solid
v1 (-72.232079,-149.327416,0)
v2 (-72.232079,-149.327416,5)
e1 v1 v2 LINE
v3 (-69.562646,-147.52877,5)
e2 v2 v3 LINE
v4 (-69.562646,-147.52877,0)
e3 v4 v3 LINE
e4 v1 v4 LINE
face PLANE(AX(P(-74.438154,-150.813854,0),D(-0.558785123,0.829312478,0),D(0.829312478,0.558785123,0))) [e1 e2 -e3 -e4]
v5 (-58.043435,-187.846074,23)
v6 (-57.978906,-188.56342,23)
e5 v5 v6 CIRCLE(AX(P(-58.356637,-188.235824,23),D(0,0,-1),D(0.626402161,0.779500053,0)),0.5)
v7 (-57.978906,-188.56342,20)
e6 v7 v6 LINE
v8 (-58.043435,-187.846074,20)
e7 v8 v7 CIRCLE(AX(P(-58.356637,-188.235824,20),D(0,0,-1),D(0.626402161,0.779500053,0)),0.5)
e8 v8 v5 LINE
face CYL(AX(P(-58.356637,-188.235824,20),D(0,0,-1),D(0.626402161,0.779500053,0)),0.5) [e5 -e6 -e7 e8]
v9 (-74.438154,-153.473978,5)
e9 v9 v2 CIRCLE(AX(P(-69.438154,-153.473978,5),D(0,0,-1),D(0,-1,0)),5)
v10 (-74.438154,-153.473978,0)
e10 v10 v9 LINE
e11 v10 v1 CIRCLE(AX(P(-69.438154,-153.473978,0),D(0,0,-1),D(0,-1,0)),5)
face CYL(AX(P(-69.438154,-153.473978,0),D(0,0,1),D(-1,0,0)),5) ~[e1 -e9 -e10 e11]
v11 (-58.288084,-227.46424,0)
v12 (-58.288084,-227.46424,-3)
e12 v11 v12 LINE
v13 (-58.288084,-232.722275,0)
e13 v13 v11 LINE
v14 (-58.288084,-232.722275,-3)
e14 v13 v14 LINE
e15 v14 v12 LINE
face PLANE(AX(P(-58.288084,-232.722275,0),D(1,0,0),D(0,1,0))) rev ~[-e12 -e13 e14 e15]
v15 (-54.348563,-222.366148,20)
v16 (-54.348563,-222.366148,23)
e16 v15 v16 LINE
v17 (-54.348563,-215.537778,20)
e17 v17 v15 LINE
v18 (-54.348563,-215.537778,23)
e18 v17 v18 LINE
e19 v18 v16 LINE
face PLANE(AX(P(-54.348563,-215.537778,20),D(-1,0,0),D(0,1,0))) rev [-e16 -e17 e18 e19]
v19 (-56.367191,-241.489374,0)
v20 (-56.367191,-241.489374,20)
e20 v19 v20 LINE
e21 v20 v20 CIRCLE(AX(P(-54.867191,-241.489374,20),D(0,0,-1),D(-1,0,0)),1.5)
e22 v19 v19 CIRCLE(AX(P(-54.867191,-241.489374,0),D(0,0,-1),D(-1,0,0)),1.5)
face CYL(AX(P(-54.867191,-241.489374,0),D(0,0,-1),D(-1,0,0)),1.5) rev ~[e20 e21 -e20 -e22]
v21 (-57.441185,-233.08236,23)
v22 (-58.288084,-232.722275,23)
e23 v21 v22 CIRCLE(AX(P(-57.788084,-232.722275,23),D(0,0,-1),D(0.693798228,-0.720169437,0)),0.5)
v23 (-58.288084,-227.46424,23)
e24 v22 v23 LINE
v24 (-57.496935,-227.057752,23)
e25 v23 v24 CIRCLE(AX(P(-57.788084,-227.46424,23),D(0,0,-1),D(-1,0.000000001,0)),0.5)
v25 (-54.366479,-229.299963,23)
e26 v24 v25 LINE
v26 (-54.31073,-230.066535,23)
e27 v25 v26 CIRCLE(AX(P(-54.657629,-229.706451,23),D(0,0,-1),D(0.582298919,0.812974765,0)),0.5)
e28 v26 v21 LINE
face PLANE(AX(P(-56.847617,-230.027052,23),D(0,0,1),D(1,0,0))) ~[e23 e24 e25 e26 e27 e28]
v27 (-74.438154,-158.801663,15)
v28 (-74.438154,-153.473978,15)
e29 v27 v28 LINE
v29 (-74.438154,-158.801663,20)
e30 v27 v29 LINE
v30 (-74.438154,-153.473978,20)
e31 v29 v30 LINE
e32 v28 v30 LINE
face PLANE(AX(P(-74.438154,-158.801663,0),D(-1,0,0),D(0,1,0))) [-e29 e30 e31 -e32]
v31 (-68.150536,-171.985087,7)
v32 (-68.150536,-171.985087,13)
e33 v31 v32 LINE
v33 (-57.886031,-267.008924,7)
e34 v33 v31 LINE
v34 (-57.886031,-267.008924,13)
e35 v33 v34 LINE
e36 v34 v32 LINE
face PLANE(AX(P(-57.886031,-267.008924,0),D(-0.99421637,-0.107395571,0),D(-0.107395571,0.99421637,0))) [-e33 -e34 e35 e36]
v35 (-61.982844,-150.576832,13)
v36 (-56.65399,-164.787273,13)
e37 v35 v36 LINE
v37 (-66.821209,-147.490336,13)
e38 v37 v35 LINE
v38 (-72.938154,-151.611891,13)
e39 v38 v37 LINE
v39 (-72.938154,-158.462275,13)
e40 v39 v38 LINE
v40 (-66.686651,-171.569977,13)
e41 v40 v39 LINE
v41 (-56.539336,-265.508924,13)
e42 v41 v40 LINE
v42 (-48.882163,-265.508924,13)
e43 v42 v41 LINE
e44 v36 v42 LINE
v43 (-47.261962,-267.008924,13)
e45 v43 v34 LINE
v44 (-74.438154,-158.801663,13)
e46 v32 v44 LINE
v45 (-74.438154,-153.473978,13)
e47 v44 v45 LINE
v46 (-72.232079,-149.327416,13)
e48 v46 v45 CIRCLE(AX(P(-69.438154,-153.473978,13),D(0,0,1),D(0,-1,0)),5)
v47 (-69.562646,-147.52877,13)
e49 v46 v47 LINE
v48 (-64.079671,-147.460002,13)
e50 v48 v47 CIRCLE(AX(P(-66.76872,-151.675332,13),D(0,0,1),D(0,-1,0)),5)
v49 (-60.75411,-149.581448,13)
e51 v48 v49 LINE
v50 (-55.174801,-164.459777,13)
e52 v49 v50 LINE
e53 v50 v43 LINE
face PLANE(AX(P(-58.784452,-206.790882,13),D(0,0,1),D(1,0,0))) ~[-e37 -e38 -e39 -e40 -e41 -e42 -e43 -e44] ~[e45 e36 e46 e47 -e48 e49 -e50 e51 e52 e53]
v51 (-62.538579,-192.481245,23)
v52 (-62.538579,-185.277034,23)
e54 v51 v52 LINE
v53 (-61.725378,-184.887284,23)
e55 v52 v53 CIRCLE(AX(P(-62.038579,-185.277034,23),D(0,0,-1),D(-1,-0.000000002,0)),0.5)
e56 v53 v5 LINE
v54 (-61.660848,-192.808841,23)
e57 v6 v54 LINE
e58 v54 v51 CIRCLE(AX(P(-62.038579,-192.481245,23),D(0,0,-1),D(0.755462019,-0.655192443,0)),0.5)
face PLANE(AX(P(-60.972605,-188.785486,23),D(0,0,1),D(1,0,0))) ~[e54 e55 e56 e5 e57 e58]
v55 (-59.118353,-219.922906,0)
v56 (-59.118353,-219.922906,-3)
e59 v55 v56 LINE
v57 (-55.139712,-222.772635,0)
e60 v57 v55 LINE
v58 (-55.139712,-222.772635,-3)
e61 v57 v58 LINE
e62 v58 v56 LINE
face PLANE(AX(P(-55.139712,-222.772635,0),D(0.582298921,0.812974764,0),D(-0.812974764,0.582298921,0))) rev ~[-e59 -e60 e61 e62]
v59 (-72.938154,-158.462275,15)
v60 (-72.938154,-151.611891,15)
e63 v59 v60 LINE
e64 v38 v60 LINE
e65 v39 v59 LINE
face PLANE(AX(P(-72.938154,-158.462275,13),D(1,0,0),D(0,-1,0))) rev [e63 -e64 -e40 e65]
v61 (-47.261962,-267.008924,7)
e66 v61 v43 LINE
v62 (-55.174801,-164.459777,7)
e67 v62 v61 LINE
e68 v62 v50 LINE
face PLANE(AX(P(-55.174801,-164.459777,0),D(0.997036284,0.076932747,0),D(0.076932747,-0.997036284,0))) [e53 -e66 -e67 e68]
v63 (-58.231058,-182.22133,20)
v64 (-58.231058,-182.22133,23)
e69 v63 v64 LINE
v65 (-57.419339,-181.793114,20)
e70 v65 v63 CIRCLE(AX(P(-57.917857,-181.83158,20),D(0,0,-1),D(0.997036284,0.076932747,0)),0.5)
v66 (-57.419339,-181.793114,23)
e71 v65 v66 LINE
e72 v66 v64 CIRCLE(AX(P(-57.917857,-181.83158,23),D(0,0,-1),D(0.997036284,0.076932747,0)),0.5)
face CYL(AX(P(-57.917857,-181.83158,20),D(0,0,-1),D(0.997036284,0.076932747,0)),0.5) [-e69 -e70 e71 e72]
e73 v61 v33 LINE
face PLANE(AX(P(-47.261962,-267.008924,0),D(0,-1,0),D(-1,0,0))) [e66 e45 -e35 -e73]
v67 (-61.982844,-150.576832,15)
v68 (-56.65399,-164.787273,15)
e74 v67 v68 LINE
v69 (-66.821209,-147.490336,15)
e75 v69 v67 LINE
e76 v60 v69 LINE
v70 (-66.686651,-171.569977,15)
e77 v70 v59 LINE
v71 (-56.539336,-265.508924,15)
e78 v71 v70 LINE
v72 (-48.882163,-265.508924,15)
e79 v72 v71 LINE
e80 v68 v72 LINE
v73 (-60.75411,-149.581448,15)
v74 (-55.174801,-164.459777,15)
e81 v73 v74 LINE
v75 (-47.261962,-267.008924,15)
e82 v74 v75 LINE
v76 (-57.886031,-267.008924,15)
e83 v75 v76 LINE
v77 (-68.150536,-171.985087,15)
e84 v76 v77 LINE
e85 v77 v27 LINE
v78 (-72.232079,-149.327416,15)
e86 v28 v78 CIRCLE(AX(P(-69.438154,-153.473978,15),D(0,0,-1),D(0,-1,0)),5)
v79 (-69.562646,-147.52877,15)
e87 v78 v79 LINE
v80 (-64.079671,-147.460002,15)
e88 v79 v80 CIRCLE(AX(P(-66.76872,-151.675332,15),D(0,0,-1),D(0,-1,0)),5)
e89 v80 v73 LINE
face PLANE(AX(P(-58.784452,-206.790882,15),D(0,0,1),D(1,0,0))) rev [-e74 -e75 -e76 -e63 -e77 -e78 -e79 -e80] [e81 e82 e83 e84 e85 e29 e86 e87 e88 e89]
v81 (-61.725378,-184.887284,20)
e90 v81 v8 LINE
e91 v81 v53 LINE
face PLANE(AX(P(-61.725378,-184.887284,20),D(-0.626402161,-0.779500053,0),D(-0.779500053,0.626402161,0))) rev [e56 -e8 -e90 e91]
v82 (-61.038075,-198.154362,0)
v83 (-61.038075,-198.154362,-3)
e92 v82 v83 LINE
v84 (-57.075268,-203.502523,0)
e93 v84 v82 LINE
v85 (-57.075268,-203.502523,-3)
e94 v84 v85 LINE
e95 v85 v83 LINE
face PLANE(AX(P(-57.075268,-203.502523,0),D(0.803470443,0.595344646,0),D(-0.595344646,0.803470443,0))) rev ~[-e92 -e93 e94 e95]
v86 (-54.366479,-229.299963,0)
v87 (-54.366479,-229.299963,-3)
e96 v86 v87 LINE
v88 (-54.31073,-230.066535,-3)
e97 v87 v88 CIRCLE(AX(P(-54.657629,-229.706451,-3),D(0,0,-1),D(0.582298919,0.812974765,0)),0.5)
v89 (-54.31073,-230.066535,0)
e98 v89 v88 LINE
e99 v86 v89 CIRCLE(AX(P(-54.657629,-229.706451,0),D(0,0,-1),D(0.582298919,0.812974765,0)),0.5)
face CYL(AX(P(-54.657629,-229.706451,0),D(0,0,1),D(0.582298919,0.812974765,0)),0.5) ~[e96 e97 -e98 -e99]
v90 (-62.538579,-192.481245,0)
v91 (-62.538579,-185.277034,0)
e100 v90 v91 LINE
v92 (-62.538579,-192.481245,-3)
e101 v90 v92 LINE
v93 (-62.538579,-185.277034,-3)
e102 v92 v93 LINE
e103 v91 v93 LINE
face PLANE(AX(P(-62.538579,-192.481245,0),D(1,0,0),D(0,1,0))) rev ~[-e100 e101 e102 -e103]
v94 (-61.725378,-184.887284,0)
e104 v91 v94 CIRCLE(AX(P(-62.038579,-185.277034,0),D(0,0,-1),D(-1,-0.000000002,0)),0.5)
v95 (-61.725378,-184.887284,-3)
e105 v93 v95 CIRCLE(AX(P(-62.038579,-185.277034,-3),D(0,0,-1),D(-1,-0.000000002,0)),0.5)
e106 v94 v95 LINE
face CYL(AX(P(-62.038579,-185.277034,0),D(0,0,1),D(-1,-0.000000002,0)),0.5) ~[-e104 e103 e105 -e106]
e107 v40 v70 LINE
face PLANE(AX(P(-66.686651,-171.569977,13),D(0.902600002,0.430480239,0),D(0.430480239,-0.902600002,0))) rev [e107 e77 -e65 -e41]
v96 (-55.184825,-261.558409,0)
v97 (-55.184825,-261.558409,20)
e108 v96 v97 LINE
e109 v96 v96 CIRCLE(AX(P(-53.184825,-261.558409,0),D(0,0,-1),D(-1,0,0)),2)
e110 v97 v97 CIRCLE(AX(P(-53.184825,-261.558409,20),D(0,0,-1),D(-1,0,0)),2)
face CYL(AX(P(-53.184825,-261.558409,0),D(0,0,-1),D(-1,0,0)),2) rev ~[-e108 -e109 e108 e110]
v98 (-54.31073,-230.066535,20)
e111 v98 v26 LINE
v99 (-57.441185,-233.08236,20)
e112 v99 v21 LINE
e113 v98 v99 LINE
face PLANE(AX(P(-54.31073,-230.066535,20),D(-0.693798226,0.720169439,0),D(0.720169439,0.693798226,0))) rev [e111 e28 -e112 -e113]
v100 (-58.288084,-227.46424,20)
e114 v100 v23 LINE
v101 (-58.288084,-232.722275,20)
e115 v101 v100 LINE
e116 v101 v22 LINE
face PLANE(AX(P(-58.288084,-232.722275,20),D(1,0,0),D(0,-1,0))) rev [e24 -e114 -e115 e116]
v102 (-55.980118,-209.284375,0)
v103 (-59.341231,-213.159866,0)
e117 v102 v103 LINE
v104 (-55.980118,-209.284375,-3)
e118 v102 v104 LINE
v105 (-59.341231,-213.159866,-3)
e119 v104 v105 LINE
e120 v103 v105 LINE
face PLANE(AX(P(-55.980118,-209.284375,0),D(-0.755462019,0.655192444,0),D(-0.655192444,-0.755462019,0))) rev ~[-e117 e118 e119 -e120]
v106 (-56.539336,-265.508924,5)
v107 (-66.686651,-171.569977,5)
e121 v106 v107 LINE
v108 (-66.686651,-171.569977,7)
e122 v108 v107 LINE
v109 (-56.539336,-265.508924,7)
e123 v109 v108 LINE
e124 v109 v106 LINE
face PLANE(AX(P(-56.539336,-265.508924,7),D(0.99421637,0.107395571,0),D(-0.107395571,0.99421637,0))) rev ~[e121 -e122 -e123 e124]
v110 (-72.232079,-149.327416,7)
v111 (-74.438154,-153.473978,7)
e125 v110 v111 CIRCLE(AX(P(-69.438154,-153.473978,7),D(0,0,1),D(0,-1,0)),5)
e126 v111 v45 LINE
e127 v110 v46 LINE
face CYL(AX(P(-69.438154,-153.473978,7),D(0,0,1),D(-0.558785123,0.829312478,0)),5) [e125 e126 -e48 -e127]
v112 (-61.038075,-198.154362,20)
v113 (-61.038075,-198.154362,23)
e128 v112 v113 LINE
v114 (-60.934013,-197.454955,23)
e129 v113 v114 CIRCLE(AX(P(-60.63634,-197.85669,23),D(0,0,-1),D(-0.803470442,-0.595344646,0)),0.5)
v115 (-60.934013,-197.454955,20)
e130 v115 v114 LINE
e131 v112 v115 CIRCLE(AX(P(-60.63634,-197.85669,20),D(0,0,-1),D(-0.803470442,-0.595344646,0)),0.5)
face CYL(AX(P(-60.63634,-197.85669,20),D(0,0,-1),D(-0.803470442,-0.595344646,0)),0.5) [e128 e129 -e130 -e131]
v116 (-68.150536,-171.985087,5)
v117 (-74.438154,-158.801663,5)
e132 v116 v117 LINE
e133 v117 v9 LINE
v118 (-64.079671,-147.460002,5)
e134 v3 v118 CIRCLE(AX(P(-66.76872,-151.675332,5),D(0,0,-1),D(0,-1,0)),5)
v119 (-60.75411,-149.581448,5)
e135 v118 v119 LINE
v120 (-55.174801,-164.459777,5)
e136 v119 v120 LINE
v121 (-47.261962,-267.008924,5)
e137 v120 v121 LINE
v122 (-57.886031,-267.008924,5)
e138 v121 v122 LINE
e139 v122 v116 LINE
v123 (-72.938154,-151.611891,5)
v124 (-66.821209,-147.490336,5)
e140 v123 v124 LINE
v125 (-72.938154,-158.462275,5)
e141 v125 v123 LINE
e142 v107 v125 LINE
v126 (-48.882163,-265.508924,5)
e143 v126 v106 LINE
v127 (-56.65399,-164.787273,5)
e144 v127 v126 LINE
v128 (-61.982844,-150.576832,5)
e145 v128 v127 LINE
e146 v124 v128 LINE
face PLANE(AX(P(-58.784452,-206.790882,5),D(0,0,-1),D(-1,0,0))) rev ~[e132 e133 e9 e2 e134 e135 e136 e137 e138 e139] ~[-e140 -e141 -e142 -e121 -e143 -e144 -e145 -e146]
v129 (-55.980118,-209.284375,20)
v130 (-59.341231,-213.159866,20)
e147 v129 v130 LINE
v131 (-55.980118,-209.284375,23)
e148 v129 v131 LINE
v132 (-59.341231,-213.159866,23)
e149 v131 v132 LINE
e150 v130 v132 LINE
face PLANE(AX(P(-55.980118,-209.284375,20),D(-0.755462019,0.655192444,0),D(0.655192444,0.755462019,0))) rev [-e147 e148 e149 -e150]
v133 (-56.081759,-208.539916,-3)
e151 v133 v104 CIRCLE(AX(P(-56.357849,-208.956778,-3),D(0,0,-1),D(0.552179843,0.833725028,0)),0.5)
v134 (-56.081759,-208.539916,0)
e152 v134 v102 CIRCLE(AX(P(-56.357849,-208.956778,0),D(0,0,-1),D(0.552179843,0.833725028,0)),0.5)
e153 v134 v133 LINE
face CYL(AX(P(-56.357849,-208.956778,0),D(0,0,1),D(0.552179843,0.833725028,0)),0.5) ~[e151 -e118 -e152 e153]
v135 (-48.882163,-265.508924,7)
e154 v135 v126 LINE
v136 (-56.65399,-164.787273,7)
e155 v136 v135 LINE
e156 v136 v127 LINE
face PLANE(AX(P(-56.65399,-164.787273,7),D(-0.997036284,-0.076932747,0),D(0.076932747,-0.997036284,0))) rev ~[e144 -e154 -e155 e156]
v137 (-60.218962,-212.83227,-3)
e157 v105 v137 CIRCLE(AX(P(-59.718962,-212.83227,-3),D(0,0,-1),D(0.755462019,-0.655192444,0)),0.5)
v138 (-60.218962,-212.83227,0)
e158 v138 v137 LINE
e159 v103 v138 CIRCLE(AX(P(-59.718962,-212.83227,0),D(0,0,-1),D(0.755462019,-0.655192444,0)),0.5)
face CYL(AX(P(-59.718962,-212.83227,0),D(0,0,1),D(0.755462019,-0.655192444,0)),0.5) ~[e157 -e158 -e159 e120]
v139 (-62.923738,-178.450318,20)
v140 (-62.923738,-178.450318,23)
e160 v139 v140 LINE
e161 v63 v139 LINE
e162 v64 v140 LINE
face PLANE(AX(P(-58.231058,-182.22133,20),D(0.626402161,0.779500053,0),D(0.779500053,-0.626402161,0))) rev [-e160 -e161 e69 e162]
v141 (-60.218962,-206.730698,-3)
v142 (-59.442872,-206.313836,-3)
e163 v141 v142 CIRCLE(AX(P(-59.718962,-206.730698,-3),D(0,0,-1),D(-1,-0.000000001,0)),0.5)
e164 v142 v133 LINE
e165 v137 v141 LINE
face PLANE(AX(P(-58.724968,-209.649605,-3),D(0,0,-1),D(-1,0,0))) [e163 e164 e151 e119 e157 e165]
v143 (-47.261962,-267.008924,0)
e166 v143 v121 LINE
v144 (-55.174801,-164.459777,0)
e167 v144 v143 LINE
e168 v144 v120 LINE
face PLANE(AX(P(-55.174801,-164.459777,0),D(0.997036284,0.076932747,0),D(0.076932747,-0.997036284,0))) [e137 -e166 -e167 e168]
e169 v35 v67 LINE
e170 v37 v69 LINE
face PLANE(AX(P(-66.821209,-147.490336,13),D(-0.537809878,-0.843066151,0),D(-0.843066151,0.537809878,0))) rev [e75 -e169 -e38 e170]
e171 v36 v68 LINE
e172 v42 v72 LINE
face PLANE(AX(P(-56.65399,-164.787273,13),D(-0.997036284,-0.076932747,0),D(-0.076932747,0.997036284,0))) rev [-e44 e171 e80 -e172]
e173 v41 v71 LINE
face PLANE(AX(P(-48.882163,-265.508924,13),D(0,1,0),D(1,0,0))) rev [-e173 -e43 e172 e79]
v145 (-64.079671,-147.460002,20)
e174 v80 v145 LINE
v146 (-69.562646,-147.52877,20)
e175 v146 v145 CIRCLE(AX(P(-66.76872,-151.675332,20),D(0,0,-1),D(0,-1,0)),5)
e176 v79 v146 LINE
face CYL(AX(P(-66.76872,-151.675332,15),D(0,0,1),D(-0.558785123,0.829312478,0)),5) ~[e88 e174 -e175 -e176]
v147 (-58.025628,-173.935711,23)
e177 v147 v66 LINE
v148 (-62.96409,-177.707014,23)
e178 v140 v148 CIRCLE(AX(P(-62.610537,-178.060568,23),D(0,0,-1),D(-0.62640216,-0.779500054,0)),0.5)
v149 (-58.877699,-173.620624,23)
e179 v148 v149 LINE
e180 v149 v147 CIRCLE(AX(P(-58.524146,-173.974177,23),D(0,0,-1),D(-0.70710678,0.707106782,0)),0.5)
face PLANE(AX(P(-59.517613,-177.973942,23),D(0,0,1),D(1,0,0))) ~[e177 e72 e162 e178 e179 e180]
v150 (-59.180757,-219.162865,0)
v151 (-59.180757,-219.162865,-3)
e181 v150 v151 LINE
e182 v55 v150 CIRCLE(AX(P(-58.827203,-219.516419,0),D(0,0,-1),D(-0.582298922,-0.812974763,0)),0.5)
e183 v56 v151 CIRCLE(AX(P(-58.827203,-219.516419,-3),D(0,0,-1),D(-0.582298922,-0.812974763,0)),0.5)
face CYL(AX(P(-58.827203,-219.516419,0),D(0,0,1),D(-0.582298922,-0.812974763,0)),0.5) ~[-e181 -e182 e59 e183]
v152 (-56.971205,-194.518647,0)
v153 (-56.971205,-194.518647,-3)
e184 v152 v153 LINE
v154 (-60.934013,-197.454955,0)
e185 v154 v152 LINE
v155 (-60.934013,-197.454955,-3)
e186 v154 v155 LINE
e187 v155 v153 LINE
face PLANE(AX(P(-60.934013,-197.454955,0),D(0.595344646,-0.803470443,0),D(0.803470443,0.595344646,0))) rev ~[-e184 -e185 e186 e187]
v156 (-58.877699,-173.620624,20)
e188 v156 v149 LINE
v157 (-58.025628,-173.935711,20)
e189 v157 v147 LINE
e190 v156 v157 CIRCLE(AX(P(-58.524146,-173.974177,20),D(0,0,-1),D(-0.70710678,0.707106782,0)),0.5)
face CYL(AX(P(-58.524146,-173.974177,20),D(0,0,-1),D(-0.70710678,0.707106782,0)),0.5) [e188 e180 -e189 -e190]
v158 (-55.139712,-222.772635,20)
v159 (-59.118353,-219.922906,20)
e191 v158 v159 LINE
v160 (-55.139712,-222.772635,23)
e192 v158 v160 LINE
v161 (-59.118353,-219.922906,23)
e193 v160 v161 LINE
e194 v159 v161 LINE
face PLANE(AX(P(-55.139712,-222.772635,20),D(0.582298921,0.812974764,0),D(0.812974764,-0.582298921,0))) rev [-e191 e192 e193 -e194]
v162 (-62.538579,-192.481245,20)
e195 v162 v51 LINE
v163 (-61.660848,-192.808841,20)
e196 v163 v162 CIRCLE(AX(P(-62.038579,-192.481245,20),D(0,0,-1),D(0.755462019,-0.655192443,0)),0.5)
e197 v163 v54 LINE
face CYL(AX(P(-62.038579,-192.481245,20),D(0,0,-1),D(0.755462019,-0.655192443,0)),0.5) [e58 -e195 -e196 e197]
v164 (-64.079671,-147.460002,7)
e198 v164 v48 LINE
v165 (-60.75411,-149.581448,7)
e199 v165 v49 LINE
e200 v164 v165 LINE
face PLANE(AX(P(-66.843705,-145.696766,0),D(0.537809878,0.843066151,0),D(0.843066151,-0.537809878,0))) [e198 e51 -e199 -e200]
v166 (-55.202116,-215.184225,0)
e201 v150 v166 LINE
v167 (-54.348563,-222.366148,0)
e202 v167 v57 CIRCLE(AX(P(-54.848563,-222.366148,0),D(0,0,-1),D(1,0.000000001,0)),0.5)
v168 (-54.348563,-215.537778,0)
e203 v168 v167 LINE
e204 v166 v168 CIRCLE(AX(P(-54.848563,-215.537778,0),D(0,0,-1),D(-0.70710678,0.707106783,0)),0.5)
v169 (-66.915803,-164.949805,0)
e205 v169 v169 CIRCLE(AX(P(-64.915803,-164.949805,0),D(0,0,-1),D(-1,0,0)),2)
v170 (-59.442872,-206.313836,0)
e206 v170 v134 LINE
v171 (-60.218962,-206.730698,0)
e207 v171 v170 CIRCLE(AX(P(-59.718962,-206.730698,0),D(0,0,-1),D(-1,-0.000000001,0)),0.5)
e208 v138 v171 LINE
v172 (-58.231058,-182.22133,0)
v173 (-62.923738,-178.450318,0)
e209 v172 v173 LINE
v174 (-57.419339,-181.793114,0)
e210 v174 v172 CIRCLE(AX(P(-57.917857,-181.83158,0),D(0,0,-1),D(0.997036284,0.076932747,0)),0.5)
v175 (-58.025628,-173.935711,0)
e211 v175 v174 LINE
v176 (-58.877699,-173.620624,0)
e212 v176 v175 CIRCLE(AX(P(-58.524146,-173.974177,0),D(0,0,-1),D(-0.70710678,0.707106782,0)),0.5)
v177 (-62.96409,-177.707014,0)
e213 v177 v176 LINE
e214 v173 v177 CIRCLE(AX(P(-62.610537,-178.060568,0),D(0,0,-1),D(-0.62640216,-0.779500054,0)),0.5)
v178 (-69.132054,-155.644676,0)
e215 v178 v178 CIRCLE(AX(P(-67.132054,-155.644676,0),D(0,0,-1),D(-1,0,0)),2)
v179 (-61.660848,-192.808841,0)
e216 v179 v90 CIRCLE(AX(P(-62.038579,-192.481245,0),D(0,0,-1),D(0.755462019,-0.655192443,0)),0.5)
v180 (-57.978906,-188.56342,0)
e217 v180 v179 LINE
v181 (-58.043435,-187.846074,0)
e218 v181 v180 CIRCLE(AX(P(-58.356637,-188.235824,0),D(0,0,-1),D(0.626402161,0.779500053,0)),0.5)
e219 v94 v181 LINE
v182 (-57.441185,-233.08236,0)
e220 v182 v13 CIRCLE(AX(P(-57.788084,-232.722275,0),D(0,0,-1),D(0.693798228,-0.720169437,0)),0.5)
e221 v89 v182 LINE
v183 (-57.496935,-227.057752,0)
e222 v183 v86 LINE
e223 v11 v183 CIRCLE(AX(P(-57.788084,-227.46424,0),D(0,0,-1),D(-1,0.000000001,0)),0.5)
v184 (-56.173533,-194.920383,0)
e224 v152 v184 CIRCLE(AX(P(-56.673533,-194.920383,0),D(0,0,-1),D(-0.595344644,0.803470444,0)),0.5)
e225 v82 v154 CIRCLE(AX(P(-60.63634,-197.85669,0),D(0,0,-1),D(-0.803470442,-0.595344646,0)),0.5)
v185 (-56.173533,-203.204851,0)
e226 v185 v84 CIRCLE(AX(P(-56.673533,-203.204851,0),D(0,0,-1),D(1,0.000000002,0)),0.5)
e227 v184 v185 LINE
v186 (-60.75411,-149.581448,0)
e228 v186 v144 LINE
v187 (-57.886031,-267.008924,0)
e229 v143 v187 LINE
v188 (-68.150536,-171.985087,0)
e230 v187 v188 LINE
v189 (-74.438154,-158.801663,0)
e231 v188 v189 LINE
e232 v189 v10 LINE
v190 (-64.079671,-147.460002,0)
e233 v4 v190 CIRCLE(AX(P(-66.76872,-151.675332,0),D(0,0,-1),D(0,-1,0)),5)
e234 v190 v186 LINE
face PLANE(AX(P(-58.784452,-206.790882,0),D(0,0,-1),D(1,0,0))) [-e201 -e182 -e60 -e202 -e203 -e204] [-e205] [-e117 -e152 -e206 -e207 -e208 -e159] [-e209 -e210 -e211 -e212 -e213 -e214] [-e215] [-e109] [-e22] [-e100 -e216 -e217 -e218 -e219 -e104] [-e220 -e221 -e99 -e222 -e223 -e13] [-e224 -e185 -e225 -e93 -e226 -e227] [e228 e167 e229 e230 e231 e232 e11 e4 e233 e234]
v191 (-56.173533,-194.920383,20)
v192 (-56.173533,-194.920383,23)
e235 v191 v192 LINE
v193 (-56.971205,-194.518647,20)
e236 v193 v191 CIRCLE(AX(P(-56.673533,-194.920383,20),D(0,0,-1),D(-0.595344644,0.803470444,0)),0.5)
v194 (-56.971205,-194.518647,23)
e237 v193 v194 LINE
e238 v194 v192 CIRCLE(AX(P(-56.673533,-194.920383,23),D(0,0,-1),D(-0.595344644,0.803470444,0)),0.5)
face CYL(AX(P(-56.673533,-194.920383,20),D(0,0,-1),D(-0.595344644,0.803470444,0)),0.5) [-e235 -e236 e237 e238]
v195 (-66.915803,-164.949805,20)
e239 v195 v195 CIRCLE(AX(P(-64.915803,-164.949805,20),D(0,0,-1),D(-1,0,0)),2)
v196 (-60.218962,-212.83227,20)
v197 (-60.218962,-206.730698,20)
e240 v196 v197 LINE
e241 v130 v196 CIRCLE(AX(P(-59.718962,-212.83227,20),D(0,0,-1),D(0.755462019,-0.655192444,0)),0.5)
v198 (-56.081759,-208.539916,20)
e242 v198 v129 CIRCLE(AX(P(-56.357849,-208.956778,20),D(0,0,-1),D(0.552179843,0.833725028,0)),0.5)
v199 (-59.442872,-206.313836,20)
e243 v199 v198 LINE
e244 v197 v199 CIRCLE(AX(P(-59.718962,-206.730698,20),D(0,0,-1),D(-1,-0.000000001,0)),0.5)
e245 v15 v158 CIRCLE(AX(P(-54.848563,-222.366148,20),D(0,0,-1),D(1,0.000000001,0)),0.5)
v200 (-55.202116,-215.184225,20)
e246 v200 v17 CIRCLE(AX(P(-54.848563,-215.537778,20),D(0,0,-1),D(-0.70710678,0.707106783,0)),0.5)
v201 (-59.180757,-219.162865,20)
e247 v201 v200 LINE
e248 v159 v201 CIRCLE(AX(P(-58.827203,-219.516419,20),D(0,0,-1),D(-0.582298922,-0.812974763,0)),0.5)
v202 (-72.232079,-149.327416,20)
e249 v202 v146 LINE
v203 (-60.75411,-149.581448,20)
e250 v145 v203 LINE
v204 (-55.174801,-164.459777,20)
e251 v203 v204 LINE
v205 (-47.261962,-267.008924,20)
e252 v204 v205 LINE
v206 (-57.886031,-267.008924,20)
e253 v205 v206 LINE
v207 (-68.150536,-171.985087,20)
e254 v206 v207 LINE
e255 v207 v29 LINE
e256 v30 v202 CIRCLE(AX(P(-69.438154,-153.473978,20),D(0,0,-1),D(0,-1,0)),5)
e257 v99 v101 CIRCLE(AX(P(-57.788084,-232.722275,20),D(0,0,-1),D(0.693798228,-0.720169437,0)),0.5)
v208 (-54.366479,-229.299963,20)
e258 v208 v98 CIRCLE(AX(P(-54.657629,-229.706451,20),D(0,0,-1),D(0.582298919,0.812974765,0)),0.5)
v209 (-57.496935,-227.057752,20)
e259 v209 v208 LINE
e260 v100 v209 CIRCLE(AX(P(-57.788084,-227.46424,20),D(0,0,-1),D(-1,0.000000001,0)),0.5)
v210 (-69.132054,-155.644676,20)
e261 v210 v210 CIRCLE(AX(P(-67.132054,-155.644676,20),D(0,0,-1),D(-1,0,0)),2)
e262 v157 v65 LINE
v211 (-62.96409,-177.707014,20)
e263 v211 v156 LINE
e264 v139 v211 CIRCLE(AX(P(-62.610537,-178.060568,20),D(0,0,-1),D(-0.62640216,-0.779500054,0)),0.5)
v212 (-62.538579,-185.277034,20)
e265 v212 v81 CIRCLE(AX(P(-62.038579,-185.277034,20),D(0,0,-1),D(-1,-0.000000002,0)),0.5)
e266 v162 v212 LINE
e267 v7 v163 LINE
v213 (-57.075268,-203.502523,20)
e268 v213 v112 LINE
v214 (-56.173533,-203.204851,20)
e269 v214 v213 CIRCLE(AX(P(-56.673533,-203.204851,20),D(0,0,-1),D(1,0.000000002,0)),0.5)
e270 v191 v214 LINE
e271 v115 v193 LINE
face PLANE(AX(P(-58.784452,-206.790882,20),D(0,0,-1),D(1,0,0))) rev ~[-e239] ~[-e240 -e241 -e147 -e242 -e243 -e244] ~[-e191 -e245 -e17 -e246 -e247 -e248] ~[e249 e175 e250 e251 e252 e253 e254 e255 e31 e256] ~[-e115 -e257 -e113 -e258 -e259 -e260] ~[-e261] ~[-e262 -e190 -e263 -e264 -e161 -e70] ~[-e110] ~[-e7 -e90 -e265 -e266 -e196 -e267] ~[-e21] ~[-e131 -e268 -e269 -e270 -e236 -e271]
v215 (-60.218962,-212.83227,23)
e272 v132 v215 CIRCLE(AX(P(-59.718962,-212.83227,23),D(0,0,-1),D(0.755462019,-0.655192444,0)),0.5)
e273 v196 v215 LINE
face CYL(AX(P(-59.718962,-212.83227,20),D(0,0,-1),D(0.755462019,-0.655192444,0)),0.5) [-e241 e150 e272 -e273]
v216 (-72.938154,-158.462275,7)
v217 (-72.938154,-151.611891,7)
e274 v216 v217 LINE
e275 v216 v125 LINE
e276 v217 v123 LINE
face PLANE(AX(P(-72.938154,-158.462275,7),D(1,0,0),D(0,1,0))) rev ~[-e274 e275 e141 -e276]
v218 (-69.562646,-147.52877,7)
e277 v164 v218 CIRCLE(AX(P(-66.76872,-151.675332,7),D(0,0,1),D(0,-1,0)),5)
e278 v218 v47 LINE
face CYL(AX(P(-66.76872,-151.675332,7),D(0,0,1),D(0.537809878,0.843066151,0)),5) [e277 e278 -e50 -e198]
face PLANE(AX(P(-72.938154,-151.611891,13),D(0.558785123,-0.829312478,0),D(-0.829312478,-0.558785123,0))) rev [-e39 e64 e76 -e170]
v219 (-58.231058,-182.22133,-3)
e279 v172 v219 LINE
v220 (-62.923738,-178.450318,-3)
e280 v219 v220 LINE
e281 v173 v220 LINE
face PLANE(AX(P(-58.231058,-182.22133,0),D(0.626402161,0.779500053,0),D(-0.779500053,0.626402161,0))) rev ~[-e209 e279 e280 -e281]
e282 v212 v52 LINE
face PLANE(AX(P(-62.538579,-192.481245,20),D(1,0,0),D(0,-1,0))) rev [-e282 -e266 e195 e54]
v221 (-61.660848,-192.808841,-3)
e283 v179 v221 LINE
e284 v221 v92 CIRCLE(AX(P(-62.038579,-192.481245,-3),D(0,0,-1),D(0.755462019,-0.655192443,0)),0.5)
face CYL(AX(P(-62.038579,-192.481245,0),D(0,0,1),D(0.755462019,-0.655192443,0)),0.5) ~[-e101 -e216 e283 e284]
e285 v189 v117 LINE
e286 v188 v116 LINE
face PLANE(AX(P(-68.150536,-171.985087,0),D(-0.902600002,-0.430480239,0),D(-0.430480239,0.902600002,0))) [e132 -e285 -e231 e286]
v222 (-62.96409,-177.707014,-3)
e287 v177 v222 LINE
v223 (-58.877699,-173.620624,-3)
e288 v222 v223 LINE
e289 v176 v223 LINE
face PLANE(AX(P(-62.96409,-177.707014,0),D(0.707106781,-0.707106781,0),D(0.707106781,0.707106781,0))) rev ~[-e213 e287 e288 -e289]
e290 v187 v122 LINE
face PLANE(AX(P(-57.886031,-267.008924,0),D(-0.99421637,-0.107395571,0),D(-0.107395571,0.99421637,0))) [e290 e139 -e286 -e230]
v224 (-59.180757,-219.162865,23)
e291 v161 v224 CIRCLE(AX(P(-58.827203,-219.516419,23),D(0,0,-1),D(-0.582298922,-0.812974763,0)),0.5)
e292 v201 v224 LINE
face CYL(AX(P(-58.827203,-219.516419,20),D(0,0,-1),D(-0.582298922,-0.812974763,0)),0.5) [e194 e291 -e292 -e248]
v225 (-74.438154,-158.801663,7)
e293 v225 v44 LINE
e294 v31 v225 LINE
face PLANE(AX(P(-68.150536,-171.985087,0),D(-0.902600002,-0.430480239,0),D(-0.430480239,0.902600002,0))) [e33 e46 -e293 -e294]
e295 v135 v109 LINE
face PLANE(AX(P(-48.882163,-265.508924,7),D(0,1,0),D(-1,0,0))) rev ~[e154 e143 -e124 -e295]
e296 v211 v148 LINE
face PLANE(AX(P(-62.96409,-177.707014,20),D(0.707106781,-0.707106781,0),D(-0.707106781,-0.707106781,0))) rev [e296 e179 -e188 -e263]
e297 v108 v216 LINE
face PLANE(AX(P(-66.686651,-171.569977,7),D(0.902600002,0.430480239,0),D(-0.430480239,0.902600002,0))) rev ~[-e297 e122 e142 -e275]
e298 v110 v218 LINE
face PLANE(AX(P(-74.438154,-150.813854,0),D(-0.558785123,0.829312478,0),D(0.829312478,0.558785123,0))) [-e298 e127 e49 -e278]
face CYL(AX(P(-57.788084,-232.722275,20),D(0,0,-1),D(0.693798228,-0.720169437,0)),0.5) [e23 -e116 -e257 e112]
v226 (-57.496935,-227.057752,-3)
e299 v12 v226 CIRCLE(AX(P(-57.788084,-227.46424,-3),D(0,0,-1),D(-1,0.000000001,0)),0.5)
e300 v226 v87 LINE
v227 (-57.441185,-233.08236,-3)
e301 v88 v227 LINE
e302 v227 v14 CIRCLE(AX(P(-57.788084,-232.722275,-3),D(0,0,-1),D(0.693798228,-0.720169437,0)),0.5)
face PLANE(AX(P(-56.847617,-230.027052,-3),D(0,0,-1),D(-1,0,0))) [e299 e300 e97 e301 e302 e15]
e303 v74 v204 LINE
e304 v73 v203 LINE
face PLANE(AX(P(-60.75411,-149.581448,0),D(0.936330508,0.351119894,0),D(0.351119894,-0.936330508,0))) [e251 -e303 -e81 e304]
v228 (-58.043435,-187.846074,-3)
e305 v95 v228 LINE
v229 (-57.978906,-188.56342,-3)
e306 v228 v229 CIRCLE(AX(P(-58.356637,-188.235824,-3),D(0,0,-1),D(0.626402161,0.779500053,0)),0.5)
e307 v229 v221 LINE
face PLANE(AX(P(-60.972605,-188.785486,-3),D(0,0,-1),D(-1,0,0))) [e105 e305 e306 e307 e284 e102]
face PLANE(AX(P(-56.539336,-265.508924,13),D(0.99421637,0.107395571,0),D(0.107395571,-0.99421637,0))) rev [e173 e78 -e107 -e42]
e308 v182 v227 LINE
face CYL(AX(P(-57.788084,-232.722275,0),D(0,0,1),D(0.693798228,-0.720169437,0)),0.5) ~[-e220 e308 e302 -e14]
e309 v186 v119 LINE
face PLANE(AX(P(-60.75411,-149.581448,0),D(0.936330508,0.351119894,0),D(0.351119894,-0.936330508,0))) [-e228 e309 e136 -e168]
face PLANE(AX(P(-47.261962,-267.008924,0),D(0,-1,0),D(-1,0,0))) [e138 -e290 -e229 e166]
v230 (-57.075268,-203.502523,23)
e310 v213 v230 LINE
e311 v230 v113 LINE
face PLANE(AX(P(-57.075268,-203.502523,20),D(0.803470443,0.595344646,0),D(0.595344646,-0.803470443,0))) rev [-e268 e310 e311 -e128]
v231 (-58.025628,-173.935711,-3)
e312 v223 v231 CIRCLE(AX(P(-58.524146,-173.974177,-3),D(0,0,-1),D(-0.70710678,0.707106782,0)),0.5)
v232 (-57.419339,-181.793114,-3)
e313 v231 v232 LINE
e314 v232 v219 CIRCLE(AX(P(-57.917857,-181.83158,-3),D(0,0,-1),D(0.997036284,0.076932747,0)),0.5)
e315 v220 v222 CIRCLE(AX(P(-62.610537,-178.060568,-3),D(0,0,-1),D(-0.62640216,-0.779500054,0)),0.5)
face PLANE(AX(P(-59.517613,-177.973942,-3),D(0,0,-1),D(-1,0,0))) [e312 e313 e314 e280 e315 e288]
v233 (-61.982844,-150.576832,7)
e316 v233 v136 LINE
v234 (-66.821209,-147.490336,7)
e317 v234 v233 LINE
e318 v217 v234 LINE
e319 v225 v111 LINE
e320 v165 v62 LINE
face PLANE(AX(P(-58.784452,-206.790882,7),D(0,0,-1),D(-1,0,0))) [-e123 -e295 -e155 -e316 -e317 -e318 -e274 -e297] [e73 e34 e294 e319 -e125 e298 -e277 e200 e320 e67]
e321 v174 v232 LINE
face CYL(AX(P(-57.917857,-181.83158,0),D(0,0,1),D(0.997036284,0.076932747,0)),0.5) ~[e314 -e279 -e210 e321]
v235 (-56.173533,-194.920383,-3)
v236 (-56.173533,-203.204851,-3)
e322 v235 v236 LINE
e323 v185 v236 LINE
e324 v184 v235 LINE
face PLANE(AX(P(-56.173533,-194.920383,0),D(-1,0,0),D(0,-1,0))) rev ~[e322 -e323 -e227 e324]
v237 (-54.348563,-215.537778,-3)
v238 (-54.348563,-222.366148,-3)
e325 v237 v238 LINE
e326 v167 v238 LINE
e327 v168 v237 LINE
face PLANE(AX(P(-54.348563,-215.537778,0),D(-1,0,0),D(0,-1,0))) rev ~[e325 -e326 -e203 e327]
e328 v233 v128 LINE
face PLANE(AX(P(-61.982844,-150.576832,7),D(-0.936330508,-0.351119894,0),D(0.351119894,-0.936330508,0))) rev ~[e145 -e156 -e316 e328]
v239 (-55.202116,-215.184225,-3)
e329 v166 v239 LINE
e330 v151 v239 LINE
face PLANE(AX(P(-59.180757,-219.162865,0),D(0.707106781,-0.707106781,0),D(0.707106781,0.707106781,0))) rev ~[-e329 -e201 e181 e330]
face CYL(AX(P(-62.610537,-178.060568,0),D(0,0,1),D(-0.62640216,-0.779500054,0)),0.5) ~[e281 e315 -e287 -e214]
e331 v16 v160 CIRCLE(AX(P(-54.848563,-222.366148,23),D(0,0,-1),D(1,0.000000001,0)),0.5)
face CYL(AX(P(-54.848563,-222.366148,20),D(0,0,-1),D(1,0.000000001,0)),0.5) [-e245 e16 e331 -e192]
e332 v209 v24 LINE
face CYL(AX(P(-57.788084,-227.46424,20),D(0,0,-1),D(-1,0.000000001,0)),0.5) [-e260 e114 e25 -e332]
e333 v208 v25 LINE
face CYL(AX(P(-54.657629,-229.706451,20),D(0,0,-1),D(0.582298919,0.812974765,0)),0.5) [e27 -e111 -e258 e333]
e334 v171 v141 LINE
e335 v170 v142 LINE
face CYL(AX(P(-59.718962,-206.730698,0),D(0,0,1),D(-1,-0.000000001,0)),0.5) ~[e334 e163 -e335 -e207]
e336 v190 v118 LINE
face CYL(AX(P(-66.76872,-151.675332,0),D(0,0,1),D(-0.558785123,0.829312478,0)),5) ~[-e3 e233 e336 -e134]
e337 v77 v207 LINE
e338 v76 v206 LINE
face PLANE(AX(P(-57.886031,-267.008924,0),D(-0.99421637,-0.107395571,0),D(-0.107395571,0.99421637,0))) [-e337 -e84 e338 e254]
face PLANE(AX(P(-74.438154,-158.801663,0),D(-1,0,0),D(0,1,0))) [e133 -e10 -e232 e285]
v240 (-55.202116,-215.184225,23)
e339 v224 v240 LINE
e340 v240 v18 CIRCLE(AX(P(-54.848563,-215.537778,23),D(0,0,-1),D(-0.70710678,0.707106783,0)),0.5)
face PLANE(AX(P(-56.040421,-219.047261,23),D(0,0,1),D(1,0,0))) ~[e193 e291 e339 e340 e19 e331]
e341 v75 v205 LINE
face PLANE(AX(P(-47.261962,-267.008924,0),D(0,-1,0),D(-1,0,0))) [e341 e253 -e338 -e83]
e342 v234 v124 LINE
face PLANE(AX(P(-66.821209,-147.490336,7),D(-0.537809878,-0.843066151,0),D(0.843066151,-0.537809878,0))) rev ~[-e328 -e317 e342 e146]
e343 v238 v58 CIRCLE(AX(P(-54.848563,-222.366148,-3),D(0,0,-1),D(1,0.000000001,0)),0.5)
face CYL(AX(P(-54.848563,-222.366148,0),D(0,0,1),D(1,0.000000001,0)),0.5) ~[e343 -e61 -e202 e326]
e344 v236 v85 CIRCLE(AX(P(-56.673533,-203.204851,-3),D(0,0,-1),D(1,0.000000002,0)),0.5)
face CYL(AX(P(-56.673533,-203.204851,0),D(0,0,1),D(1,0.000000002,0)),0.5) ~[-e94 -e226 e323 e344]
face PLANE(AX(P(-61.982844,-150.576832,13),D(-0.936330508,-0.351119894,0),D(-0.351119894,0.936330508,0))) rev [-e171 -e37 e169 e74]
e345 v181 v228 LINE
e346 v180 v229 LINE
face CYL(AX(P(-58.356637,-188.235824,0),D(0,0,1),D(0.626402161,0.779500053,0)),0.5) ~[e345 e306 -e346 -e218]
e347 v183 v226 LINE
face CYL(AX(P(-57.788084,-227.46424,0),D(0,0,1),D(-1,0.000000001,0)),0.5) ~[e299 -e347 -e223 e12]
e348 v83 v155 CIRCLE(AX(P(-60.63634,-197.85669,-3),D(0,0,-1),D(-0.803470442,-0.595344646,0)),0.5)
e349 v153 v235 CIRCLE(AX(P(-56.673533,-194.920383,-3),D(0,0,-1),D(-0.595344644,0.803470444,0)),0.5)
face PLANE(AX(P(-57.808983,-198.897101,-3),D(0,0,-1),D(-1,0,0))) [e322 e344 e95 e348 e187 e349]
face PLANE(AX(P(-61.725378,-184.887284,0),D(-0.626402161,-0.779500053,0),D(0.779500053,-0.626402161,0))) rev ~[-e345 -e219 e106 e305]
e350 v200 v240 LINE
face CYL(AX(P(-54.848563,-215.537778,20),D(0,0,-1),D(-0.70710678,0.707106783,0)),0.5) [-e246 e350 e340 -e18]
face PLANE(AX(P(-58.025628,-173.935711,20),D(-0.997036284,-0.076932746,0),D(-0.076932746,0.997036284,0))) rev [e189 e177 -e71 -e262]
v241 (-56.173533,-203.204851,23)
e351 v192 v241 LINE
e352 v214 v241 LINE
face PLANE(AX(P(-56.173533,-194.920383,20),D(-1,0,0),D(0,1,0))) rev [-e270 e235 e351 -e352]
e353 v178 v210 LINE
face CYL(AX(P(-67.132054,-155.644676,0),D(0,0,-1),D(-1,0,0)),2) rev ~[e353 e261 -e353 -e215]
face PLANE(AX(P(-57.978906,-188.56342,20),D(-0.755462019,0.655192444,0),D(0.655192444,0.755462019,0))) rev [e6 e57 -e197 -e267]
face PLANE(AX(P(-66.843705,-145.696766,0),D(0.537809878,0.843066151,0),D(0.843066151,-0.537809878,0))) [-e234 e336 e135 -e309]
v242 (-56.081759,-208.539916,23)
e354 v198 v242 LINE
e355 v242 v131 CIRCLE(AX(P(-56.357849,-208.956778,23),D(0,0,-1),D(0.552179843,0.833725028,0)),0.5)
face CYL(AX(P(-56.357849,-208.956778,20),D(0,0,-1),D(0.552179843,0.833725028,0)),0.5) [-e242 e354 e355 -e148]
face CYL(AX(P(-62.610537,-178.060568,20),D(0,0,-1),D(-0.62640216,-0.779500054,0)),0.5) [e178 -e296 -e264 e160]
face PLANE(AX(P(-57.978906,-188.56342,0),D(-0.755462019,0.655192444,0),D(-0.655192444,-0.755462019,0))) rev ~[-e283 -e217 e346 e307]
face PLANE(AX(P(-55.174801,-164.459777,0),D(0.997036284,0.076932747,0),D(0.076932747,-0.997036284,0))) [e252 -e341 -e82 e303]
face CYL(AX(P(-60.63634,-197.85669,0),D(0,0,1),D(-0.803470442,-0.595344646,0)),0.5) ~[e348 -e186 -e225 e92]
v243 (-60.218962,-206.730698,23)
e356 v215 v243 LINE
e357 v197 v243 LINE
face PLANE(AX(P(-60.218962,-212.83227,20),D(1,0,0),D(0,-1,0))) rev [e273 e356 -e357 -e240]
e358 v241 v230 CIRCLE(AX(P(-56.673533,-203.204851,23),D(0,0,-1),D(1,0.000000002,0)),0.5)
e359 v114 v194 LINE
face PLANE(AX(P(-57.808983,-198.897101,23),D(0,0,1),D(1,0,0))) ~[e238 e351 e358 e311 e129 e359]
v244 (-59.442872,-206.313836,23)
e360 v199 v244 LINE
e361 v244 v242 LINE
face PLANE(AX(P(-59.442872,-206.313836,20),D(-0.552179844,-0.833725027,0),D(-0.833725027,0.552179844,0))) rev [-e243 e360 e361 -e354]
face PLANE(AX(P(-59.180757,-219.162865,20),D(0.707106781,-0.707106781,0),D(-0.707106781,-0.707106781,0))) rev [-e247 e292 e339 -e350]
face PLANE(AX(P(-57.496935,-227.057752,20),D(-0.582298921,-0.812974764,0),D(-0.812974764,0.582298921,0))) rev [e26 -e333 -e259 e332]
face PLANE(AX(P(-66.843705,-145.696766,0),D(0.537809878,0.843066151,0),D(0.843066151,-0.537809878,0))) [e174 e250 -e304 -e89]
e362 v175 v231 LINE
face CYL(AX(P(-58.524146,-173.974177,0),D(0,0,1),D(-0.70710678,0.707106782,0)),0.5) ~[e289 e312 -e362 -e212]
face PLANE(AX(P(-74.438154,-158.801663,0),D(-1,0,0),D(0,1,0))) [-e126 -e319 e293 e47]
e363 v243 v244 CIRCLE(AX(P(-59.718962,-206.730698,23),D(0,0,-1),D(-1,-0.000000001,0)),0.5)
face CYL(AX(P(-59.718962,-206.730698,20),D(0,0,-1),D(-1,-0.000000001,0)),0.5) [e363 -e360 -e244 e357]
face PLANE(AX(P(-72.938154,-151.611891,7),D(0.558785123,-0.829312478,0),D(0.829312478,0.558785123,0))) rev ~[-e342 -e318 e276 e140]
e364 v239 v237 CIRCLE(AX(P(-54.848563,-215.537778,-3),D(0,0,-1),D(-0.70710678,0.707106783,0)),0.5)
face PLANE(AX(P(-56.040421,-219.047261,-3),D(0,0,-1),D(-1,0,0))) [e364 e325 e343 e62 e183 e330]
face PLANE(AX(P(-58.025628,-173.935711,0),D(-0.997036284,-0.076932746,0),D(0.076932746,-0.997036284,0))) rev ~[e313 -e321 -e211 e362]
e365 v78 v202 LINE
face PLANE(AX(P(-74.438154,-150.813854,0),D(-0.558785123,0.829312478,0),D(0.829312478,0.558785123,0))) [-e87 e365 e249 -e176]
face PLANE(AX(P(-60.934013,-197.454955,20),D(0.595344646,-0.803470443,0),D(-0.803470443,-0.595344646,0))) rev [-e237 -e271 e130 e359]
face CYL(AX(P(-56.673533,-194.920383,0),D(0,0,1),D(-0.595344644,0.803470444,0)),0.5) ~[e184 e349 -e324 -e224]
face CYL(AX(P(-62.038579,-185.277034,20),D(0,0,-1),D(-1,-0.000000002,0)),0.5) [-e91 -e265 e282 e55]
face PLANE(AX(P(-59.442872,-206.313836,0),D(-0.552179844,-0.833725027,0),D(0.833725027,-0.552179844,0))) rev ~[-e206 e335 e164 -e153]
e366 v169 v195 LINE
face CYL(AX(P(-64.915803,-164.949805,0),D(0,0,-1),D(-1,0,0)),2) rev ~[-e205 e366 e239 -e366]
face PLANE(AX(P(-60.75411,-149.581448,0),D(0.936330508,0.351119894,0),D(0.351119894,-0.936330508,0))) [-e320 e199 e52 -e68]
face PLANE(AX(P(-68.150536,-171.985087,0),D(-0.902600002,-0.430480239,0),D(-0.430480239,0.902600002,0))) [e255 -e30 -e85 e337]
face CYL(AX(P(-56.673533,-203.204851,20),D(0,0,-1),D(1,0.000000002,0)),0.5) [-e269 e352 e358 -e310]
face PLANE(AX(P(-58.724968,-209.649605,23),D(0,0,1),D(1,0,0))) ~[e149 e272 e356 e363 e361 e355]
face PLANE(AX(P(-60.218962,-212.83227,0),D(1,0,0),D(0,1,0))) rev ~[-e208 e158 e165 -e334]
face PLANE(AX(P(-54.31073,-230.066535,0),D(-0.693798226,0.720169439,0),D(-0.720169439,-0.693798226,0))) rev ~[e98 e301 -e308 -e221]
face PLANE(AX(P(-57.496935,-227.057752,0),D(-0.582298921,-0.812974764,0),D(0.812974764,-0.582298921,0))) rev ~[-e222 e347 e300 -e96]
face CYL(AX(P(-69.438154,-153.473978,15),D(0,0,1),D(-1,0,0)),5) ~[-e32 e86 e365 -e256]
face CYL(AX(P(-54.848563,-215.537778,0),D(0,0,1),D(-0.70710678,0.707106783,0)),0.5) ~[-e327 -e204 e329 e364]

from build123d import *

# Parameters (mm, degrees)
EXTRUDE_1_DEPTH     = 20
CUT_EXTRUDE_START   = 3
CUT_EXTRUDE_1_DEPTH = 2
EXTRUDE_2_DEPTH     = 3
SKETCH_115_R        = 2
SKETCH_115_R_2      = 1.5
CUT_EXTRUDE_2_DEPTH = 279.143495269
FILLET_1_R          = 5
SKETCH_116_R        = 2
CUT_EXTRUDE_3_DEPTH = 279.143495269


with BuildPart() as part:
    # 草图1 → 凸台-拉伸1 (new body)
    with BuildSketch(Plane(origin=(0, 0, 0), x_dir=(-1, 0, 0), z_dir=(0, 0, 1))):
        Polygon((74.438153655, 158.80166336), (74.438153655, 150.81385389), (66.84370456, 145.696765598), (60.754110218, 149.581447702), (55.174801085, 164.459776844), (47.261962171, 267.008923523), (57.886031057, 267.008923523), (68.150536307, 171.985087167), align=None)
    extrude(amount=EXTRUDE_1_DEPTH)

    # 草图113 → 切除-拉伸1 (cut)
    with BuildSketch(Plane(origin=(0, 0, 10), x_dir=(-1, 0, 0), z_dir=(0, 0, -1)).offset(CUT_EXTRUDE_START)):
        Polygon((55.174801085, -164.459776844), (47.261962171, -267.008923523), (57.886031057, -267.008923523), (68.150536307, -171.985087167), (74.438153655, -158.80166336), (74.438153655, -150.81385389), (66.84370456, -145.696765598), (60.754110218, -149.581447702), align=None)
        Polygon((56.653989783, -164.787273226), (48.882163106, -265.508923523), (56.539335626, -265.508923523), (66.686650777, -171.56997655), (72.938153655, -158.462274967), (72.938153655, -151.61189122), (66.821209313, -147.490335609), (61.982843766, -150.576832179), align=None, mode=Mode.SUBTRACT)
    cut_extrude_1 = extrude(amount=CUT_EXTRUDE_1_DEPTH, mode=Mode.SUBTRACT)

    # 镜向1: 切除-拉伸1 across plane
    add(cut_extrude_1.mirror(Plane(origin=(0, 0, 10), x_dir=(1, 0, 0), z_dir=(0, 0, -1))), mode=Mode.SUBTRACT)

    # 草图114 → 凸台-拉伸2 (add)
    with BuildSketch(Plane(origin=(0, 0, 0), x_dir=(-1, 0, 0), z_dir=(0, 0, -1))):
        with BuildLine():
            Line((58.025627707, -173.935710741), (57.419339245, -181.793113798))
            ThreePointArc((57.419339245, -181.793113798), (57.684559456, -182.273815488), (58.231058467, -182.221330198))
            Line((58.231058467, -182.221330198), (62.923737604, -178.450317813))
            ThreePointArc((62.923737604, -178.450317813), (63.109801357, -178.087671778), (62.964089914, -177.707014396))
            Line((62.964089914, -177.707014396), (58.877699239, -173.620623723))
            ThreePointArc((58.877699239, -173.620623723), (58.350728284, -173.505214058), (58.025627707, -173.935710741))
        make_face()
        with BuildLine():
            Line((60.934012548, -197.454954781), (56.971204979, -194.518647305))
            ThreePointArc((56.971204979, -194.518647305), (56.448628412, -194.473820011), (56.173532656, -194.920382527))
            Line((56.173532656, -194.920382527), (56.173532659, -203.204850558))
            ThreePointArc((56.173532659, -203.204850558), (56.516796592, -203.679649258), (57.07526788, -203.50252288))
            Line((57.07526788, -203.50252288), (61.038075447, -198.154362325))
            ThreePointArc((61.038075447, -198.154362325), (61.130896043, -197.783106421), (60.934012548, -197.454954781))
        make_face()
        with BuildLine():
            Line((57.978905554, -188.563420266), (61.66084791, -192.808841031))
            ThreePointArc((61.66084791, -192.808841031), (62.213413835, -192.949681307), (62.538578919, -192.481244809))
            Line((62.538578919, -192.481244809), (62.538578917, -185.277034446))
            ThreePointArc((62.538578917, -185.277034446), (62.25468012, -184.826146133), (61.725377837, -184.887284419))
            Line((61.725377837, -184.887284419), (58.043435482, -187.846074018))
            ThreePointArc((58.043435482, -187.846074018), (57.858647408, -188.191026703), (57.978905554, -188.563420266))
        make_face()
        with BuildLine():
            Line((59.442872047, -206.313835661), (56.081759275, -208.539915803))
            ThreePointArc((56.081759275, -208.539915803), (55.862445165, -208.889140713), (55.980118188, -209.284374538))
            Line((55.980118188, -209.284374538), (59.341230961, -213.159866488))
            ThreePointArc((59.341230961, -213.159866488), (59.893796886, -213.300706764), (60.218961971, -212.832270266))
            Line((60.218961971, -212.832270266), (60.218961969, -206.730698174))
            ThreePointArc((60.218961969, -206.730698174), (59.955557657, -206.290218344), (59.442872047, -206.313835661))
        make_face()
        with BuildLine():
            Line((59.180756665, -219.162865233), (55.202116295, -215.184224865))
            ThreePointArc((55.202116295, -215.184224865), (54.657221188, -215.07583849), (54.348562904, -215.537778256))
            Line((54.348562904, -215.537778256), (54.348562906, -222.366147911))
            ThreePointArc((54.348562906, -222.366147911), (54.620062064, -222.810880826), (55.139712367, -222.772635293))
            Line((55.139712367, -222.772635293), (59.118352735, -219.922906006))
            ThreePointArc((59.118352735, -219.922906006), (59.325526398, -219.557333957), (59.180756665, -219.162865233))
        make_face()
        with BuildLine():
            Line((57.496934877, -227.057752455), (54.36647935, -229.299963354))
            ThreePointArc((54.36647935, -229.299963354), (54.158945852, -229.670183565), (54.310729697, -230.066535456))
            Line((54.310729697, -230.066535456), (57.441185226, -233.082359755))
            ThreePointArc((57.441185226, -233.082359755), (57.983724881, -233.182410645), (58.288084339, -232.722275036))
            Line((58.288084339, -232.722275036), (58.288084338, -227.464239836))
            ThreePointArc((58.288084338, -227.464239836), (58.01658518, -227.019506922), (57.496934877, -227.057752455))
        make_face()
    extrude_2 = extrude(amount=EXTRUDE_2_DEPTH)

    # 镜向2: 凸台-拉伸2 across plane
    add(extrude_2.mirror(Plane(origin=(0, 0, 10), x_dir=(1, 0, 0), z_dir=(0, 0, -1))))

    # 草图115 → 切除-拉伸2 (cut, through all)
    with BuildSketch(Plane(origin=(0, 0, 0), x_dir=(-1, 0, 0), z_dir=(0, 0, -1))):
        with Locations((64.915803172, -164.949805196)):
            Circle(SKETCH_115_R)
        with Locations((67.132054217, -155.644675734)):
            Circle(SKETCH_115_R)
        with Locations((54.86719071, -241.489374019)):
            Circle(SKETCH_115_R_2)
    extrude(amount=-CUT_EXTRUDE_2_DEPTH, mode=Mode.SUBTRACT)

    # 圆角1
    fillet_1_edges = [part.edges().sort_by_distance(p)[0] for p in [
        (-74.438153655, -150.81385389, 17.5),
        (-66.84370456, -145.696765598, 17.5),
        (-74.438153655, -150.81385389, 2.5),
        (-66.84370456, -145.696765598, 2.5),
        (-66.84370456, -145.696765598, 10),
        (-74.438153655, -150.81385389, 10),
    ]]
    fillet(fillet_1_edges, radius=FILLET_1_R)

    # 草图116 → 切除-拉伸3 (cut, through all)
    with BuildSketch(Plane(origin=(0, 0, 0), x_dir=(-1, 0, 0), z_dir=(0, 0, -1))):
        with Locations((53.184824598, -261.558408948)):
            Circle(SKETCH_116_R)
    extrude(amount=-CUT_EXTRUDE_3_DEPTH, mode=Mode.SUBTRACT)


solid = part.part
